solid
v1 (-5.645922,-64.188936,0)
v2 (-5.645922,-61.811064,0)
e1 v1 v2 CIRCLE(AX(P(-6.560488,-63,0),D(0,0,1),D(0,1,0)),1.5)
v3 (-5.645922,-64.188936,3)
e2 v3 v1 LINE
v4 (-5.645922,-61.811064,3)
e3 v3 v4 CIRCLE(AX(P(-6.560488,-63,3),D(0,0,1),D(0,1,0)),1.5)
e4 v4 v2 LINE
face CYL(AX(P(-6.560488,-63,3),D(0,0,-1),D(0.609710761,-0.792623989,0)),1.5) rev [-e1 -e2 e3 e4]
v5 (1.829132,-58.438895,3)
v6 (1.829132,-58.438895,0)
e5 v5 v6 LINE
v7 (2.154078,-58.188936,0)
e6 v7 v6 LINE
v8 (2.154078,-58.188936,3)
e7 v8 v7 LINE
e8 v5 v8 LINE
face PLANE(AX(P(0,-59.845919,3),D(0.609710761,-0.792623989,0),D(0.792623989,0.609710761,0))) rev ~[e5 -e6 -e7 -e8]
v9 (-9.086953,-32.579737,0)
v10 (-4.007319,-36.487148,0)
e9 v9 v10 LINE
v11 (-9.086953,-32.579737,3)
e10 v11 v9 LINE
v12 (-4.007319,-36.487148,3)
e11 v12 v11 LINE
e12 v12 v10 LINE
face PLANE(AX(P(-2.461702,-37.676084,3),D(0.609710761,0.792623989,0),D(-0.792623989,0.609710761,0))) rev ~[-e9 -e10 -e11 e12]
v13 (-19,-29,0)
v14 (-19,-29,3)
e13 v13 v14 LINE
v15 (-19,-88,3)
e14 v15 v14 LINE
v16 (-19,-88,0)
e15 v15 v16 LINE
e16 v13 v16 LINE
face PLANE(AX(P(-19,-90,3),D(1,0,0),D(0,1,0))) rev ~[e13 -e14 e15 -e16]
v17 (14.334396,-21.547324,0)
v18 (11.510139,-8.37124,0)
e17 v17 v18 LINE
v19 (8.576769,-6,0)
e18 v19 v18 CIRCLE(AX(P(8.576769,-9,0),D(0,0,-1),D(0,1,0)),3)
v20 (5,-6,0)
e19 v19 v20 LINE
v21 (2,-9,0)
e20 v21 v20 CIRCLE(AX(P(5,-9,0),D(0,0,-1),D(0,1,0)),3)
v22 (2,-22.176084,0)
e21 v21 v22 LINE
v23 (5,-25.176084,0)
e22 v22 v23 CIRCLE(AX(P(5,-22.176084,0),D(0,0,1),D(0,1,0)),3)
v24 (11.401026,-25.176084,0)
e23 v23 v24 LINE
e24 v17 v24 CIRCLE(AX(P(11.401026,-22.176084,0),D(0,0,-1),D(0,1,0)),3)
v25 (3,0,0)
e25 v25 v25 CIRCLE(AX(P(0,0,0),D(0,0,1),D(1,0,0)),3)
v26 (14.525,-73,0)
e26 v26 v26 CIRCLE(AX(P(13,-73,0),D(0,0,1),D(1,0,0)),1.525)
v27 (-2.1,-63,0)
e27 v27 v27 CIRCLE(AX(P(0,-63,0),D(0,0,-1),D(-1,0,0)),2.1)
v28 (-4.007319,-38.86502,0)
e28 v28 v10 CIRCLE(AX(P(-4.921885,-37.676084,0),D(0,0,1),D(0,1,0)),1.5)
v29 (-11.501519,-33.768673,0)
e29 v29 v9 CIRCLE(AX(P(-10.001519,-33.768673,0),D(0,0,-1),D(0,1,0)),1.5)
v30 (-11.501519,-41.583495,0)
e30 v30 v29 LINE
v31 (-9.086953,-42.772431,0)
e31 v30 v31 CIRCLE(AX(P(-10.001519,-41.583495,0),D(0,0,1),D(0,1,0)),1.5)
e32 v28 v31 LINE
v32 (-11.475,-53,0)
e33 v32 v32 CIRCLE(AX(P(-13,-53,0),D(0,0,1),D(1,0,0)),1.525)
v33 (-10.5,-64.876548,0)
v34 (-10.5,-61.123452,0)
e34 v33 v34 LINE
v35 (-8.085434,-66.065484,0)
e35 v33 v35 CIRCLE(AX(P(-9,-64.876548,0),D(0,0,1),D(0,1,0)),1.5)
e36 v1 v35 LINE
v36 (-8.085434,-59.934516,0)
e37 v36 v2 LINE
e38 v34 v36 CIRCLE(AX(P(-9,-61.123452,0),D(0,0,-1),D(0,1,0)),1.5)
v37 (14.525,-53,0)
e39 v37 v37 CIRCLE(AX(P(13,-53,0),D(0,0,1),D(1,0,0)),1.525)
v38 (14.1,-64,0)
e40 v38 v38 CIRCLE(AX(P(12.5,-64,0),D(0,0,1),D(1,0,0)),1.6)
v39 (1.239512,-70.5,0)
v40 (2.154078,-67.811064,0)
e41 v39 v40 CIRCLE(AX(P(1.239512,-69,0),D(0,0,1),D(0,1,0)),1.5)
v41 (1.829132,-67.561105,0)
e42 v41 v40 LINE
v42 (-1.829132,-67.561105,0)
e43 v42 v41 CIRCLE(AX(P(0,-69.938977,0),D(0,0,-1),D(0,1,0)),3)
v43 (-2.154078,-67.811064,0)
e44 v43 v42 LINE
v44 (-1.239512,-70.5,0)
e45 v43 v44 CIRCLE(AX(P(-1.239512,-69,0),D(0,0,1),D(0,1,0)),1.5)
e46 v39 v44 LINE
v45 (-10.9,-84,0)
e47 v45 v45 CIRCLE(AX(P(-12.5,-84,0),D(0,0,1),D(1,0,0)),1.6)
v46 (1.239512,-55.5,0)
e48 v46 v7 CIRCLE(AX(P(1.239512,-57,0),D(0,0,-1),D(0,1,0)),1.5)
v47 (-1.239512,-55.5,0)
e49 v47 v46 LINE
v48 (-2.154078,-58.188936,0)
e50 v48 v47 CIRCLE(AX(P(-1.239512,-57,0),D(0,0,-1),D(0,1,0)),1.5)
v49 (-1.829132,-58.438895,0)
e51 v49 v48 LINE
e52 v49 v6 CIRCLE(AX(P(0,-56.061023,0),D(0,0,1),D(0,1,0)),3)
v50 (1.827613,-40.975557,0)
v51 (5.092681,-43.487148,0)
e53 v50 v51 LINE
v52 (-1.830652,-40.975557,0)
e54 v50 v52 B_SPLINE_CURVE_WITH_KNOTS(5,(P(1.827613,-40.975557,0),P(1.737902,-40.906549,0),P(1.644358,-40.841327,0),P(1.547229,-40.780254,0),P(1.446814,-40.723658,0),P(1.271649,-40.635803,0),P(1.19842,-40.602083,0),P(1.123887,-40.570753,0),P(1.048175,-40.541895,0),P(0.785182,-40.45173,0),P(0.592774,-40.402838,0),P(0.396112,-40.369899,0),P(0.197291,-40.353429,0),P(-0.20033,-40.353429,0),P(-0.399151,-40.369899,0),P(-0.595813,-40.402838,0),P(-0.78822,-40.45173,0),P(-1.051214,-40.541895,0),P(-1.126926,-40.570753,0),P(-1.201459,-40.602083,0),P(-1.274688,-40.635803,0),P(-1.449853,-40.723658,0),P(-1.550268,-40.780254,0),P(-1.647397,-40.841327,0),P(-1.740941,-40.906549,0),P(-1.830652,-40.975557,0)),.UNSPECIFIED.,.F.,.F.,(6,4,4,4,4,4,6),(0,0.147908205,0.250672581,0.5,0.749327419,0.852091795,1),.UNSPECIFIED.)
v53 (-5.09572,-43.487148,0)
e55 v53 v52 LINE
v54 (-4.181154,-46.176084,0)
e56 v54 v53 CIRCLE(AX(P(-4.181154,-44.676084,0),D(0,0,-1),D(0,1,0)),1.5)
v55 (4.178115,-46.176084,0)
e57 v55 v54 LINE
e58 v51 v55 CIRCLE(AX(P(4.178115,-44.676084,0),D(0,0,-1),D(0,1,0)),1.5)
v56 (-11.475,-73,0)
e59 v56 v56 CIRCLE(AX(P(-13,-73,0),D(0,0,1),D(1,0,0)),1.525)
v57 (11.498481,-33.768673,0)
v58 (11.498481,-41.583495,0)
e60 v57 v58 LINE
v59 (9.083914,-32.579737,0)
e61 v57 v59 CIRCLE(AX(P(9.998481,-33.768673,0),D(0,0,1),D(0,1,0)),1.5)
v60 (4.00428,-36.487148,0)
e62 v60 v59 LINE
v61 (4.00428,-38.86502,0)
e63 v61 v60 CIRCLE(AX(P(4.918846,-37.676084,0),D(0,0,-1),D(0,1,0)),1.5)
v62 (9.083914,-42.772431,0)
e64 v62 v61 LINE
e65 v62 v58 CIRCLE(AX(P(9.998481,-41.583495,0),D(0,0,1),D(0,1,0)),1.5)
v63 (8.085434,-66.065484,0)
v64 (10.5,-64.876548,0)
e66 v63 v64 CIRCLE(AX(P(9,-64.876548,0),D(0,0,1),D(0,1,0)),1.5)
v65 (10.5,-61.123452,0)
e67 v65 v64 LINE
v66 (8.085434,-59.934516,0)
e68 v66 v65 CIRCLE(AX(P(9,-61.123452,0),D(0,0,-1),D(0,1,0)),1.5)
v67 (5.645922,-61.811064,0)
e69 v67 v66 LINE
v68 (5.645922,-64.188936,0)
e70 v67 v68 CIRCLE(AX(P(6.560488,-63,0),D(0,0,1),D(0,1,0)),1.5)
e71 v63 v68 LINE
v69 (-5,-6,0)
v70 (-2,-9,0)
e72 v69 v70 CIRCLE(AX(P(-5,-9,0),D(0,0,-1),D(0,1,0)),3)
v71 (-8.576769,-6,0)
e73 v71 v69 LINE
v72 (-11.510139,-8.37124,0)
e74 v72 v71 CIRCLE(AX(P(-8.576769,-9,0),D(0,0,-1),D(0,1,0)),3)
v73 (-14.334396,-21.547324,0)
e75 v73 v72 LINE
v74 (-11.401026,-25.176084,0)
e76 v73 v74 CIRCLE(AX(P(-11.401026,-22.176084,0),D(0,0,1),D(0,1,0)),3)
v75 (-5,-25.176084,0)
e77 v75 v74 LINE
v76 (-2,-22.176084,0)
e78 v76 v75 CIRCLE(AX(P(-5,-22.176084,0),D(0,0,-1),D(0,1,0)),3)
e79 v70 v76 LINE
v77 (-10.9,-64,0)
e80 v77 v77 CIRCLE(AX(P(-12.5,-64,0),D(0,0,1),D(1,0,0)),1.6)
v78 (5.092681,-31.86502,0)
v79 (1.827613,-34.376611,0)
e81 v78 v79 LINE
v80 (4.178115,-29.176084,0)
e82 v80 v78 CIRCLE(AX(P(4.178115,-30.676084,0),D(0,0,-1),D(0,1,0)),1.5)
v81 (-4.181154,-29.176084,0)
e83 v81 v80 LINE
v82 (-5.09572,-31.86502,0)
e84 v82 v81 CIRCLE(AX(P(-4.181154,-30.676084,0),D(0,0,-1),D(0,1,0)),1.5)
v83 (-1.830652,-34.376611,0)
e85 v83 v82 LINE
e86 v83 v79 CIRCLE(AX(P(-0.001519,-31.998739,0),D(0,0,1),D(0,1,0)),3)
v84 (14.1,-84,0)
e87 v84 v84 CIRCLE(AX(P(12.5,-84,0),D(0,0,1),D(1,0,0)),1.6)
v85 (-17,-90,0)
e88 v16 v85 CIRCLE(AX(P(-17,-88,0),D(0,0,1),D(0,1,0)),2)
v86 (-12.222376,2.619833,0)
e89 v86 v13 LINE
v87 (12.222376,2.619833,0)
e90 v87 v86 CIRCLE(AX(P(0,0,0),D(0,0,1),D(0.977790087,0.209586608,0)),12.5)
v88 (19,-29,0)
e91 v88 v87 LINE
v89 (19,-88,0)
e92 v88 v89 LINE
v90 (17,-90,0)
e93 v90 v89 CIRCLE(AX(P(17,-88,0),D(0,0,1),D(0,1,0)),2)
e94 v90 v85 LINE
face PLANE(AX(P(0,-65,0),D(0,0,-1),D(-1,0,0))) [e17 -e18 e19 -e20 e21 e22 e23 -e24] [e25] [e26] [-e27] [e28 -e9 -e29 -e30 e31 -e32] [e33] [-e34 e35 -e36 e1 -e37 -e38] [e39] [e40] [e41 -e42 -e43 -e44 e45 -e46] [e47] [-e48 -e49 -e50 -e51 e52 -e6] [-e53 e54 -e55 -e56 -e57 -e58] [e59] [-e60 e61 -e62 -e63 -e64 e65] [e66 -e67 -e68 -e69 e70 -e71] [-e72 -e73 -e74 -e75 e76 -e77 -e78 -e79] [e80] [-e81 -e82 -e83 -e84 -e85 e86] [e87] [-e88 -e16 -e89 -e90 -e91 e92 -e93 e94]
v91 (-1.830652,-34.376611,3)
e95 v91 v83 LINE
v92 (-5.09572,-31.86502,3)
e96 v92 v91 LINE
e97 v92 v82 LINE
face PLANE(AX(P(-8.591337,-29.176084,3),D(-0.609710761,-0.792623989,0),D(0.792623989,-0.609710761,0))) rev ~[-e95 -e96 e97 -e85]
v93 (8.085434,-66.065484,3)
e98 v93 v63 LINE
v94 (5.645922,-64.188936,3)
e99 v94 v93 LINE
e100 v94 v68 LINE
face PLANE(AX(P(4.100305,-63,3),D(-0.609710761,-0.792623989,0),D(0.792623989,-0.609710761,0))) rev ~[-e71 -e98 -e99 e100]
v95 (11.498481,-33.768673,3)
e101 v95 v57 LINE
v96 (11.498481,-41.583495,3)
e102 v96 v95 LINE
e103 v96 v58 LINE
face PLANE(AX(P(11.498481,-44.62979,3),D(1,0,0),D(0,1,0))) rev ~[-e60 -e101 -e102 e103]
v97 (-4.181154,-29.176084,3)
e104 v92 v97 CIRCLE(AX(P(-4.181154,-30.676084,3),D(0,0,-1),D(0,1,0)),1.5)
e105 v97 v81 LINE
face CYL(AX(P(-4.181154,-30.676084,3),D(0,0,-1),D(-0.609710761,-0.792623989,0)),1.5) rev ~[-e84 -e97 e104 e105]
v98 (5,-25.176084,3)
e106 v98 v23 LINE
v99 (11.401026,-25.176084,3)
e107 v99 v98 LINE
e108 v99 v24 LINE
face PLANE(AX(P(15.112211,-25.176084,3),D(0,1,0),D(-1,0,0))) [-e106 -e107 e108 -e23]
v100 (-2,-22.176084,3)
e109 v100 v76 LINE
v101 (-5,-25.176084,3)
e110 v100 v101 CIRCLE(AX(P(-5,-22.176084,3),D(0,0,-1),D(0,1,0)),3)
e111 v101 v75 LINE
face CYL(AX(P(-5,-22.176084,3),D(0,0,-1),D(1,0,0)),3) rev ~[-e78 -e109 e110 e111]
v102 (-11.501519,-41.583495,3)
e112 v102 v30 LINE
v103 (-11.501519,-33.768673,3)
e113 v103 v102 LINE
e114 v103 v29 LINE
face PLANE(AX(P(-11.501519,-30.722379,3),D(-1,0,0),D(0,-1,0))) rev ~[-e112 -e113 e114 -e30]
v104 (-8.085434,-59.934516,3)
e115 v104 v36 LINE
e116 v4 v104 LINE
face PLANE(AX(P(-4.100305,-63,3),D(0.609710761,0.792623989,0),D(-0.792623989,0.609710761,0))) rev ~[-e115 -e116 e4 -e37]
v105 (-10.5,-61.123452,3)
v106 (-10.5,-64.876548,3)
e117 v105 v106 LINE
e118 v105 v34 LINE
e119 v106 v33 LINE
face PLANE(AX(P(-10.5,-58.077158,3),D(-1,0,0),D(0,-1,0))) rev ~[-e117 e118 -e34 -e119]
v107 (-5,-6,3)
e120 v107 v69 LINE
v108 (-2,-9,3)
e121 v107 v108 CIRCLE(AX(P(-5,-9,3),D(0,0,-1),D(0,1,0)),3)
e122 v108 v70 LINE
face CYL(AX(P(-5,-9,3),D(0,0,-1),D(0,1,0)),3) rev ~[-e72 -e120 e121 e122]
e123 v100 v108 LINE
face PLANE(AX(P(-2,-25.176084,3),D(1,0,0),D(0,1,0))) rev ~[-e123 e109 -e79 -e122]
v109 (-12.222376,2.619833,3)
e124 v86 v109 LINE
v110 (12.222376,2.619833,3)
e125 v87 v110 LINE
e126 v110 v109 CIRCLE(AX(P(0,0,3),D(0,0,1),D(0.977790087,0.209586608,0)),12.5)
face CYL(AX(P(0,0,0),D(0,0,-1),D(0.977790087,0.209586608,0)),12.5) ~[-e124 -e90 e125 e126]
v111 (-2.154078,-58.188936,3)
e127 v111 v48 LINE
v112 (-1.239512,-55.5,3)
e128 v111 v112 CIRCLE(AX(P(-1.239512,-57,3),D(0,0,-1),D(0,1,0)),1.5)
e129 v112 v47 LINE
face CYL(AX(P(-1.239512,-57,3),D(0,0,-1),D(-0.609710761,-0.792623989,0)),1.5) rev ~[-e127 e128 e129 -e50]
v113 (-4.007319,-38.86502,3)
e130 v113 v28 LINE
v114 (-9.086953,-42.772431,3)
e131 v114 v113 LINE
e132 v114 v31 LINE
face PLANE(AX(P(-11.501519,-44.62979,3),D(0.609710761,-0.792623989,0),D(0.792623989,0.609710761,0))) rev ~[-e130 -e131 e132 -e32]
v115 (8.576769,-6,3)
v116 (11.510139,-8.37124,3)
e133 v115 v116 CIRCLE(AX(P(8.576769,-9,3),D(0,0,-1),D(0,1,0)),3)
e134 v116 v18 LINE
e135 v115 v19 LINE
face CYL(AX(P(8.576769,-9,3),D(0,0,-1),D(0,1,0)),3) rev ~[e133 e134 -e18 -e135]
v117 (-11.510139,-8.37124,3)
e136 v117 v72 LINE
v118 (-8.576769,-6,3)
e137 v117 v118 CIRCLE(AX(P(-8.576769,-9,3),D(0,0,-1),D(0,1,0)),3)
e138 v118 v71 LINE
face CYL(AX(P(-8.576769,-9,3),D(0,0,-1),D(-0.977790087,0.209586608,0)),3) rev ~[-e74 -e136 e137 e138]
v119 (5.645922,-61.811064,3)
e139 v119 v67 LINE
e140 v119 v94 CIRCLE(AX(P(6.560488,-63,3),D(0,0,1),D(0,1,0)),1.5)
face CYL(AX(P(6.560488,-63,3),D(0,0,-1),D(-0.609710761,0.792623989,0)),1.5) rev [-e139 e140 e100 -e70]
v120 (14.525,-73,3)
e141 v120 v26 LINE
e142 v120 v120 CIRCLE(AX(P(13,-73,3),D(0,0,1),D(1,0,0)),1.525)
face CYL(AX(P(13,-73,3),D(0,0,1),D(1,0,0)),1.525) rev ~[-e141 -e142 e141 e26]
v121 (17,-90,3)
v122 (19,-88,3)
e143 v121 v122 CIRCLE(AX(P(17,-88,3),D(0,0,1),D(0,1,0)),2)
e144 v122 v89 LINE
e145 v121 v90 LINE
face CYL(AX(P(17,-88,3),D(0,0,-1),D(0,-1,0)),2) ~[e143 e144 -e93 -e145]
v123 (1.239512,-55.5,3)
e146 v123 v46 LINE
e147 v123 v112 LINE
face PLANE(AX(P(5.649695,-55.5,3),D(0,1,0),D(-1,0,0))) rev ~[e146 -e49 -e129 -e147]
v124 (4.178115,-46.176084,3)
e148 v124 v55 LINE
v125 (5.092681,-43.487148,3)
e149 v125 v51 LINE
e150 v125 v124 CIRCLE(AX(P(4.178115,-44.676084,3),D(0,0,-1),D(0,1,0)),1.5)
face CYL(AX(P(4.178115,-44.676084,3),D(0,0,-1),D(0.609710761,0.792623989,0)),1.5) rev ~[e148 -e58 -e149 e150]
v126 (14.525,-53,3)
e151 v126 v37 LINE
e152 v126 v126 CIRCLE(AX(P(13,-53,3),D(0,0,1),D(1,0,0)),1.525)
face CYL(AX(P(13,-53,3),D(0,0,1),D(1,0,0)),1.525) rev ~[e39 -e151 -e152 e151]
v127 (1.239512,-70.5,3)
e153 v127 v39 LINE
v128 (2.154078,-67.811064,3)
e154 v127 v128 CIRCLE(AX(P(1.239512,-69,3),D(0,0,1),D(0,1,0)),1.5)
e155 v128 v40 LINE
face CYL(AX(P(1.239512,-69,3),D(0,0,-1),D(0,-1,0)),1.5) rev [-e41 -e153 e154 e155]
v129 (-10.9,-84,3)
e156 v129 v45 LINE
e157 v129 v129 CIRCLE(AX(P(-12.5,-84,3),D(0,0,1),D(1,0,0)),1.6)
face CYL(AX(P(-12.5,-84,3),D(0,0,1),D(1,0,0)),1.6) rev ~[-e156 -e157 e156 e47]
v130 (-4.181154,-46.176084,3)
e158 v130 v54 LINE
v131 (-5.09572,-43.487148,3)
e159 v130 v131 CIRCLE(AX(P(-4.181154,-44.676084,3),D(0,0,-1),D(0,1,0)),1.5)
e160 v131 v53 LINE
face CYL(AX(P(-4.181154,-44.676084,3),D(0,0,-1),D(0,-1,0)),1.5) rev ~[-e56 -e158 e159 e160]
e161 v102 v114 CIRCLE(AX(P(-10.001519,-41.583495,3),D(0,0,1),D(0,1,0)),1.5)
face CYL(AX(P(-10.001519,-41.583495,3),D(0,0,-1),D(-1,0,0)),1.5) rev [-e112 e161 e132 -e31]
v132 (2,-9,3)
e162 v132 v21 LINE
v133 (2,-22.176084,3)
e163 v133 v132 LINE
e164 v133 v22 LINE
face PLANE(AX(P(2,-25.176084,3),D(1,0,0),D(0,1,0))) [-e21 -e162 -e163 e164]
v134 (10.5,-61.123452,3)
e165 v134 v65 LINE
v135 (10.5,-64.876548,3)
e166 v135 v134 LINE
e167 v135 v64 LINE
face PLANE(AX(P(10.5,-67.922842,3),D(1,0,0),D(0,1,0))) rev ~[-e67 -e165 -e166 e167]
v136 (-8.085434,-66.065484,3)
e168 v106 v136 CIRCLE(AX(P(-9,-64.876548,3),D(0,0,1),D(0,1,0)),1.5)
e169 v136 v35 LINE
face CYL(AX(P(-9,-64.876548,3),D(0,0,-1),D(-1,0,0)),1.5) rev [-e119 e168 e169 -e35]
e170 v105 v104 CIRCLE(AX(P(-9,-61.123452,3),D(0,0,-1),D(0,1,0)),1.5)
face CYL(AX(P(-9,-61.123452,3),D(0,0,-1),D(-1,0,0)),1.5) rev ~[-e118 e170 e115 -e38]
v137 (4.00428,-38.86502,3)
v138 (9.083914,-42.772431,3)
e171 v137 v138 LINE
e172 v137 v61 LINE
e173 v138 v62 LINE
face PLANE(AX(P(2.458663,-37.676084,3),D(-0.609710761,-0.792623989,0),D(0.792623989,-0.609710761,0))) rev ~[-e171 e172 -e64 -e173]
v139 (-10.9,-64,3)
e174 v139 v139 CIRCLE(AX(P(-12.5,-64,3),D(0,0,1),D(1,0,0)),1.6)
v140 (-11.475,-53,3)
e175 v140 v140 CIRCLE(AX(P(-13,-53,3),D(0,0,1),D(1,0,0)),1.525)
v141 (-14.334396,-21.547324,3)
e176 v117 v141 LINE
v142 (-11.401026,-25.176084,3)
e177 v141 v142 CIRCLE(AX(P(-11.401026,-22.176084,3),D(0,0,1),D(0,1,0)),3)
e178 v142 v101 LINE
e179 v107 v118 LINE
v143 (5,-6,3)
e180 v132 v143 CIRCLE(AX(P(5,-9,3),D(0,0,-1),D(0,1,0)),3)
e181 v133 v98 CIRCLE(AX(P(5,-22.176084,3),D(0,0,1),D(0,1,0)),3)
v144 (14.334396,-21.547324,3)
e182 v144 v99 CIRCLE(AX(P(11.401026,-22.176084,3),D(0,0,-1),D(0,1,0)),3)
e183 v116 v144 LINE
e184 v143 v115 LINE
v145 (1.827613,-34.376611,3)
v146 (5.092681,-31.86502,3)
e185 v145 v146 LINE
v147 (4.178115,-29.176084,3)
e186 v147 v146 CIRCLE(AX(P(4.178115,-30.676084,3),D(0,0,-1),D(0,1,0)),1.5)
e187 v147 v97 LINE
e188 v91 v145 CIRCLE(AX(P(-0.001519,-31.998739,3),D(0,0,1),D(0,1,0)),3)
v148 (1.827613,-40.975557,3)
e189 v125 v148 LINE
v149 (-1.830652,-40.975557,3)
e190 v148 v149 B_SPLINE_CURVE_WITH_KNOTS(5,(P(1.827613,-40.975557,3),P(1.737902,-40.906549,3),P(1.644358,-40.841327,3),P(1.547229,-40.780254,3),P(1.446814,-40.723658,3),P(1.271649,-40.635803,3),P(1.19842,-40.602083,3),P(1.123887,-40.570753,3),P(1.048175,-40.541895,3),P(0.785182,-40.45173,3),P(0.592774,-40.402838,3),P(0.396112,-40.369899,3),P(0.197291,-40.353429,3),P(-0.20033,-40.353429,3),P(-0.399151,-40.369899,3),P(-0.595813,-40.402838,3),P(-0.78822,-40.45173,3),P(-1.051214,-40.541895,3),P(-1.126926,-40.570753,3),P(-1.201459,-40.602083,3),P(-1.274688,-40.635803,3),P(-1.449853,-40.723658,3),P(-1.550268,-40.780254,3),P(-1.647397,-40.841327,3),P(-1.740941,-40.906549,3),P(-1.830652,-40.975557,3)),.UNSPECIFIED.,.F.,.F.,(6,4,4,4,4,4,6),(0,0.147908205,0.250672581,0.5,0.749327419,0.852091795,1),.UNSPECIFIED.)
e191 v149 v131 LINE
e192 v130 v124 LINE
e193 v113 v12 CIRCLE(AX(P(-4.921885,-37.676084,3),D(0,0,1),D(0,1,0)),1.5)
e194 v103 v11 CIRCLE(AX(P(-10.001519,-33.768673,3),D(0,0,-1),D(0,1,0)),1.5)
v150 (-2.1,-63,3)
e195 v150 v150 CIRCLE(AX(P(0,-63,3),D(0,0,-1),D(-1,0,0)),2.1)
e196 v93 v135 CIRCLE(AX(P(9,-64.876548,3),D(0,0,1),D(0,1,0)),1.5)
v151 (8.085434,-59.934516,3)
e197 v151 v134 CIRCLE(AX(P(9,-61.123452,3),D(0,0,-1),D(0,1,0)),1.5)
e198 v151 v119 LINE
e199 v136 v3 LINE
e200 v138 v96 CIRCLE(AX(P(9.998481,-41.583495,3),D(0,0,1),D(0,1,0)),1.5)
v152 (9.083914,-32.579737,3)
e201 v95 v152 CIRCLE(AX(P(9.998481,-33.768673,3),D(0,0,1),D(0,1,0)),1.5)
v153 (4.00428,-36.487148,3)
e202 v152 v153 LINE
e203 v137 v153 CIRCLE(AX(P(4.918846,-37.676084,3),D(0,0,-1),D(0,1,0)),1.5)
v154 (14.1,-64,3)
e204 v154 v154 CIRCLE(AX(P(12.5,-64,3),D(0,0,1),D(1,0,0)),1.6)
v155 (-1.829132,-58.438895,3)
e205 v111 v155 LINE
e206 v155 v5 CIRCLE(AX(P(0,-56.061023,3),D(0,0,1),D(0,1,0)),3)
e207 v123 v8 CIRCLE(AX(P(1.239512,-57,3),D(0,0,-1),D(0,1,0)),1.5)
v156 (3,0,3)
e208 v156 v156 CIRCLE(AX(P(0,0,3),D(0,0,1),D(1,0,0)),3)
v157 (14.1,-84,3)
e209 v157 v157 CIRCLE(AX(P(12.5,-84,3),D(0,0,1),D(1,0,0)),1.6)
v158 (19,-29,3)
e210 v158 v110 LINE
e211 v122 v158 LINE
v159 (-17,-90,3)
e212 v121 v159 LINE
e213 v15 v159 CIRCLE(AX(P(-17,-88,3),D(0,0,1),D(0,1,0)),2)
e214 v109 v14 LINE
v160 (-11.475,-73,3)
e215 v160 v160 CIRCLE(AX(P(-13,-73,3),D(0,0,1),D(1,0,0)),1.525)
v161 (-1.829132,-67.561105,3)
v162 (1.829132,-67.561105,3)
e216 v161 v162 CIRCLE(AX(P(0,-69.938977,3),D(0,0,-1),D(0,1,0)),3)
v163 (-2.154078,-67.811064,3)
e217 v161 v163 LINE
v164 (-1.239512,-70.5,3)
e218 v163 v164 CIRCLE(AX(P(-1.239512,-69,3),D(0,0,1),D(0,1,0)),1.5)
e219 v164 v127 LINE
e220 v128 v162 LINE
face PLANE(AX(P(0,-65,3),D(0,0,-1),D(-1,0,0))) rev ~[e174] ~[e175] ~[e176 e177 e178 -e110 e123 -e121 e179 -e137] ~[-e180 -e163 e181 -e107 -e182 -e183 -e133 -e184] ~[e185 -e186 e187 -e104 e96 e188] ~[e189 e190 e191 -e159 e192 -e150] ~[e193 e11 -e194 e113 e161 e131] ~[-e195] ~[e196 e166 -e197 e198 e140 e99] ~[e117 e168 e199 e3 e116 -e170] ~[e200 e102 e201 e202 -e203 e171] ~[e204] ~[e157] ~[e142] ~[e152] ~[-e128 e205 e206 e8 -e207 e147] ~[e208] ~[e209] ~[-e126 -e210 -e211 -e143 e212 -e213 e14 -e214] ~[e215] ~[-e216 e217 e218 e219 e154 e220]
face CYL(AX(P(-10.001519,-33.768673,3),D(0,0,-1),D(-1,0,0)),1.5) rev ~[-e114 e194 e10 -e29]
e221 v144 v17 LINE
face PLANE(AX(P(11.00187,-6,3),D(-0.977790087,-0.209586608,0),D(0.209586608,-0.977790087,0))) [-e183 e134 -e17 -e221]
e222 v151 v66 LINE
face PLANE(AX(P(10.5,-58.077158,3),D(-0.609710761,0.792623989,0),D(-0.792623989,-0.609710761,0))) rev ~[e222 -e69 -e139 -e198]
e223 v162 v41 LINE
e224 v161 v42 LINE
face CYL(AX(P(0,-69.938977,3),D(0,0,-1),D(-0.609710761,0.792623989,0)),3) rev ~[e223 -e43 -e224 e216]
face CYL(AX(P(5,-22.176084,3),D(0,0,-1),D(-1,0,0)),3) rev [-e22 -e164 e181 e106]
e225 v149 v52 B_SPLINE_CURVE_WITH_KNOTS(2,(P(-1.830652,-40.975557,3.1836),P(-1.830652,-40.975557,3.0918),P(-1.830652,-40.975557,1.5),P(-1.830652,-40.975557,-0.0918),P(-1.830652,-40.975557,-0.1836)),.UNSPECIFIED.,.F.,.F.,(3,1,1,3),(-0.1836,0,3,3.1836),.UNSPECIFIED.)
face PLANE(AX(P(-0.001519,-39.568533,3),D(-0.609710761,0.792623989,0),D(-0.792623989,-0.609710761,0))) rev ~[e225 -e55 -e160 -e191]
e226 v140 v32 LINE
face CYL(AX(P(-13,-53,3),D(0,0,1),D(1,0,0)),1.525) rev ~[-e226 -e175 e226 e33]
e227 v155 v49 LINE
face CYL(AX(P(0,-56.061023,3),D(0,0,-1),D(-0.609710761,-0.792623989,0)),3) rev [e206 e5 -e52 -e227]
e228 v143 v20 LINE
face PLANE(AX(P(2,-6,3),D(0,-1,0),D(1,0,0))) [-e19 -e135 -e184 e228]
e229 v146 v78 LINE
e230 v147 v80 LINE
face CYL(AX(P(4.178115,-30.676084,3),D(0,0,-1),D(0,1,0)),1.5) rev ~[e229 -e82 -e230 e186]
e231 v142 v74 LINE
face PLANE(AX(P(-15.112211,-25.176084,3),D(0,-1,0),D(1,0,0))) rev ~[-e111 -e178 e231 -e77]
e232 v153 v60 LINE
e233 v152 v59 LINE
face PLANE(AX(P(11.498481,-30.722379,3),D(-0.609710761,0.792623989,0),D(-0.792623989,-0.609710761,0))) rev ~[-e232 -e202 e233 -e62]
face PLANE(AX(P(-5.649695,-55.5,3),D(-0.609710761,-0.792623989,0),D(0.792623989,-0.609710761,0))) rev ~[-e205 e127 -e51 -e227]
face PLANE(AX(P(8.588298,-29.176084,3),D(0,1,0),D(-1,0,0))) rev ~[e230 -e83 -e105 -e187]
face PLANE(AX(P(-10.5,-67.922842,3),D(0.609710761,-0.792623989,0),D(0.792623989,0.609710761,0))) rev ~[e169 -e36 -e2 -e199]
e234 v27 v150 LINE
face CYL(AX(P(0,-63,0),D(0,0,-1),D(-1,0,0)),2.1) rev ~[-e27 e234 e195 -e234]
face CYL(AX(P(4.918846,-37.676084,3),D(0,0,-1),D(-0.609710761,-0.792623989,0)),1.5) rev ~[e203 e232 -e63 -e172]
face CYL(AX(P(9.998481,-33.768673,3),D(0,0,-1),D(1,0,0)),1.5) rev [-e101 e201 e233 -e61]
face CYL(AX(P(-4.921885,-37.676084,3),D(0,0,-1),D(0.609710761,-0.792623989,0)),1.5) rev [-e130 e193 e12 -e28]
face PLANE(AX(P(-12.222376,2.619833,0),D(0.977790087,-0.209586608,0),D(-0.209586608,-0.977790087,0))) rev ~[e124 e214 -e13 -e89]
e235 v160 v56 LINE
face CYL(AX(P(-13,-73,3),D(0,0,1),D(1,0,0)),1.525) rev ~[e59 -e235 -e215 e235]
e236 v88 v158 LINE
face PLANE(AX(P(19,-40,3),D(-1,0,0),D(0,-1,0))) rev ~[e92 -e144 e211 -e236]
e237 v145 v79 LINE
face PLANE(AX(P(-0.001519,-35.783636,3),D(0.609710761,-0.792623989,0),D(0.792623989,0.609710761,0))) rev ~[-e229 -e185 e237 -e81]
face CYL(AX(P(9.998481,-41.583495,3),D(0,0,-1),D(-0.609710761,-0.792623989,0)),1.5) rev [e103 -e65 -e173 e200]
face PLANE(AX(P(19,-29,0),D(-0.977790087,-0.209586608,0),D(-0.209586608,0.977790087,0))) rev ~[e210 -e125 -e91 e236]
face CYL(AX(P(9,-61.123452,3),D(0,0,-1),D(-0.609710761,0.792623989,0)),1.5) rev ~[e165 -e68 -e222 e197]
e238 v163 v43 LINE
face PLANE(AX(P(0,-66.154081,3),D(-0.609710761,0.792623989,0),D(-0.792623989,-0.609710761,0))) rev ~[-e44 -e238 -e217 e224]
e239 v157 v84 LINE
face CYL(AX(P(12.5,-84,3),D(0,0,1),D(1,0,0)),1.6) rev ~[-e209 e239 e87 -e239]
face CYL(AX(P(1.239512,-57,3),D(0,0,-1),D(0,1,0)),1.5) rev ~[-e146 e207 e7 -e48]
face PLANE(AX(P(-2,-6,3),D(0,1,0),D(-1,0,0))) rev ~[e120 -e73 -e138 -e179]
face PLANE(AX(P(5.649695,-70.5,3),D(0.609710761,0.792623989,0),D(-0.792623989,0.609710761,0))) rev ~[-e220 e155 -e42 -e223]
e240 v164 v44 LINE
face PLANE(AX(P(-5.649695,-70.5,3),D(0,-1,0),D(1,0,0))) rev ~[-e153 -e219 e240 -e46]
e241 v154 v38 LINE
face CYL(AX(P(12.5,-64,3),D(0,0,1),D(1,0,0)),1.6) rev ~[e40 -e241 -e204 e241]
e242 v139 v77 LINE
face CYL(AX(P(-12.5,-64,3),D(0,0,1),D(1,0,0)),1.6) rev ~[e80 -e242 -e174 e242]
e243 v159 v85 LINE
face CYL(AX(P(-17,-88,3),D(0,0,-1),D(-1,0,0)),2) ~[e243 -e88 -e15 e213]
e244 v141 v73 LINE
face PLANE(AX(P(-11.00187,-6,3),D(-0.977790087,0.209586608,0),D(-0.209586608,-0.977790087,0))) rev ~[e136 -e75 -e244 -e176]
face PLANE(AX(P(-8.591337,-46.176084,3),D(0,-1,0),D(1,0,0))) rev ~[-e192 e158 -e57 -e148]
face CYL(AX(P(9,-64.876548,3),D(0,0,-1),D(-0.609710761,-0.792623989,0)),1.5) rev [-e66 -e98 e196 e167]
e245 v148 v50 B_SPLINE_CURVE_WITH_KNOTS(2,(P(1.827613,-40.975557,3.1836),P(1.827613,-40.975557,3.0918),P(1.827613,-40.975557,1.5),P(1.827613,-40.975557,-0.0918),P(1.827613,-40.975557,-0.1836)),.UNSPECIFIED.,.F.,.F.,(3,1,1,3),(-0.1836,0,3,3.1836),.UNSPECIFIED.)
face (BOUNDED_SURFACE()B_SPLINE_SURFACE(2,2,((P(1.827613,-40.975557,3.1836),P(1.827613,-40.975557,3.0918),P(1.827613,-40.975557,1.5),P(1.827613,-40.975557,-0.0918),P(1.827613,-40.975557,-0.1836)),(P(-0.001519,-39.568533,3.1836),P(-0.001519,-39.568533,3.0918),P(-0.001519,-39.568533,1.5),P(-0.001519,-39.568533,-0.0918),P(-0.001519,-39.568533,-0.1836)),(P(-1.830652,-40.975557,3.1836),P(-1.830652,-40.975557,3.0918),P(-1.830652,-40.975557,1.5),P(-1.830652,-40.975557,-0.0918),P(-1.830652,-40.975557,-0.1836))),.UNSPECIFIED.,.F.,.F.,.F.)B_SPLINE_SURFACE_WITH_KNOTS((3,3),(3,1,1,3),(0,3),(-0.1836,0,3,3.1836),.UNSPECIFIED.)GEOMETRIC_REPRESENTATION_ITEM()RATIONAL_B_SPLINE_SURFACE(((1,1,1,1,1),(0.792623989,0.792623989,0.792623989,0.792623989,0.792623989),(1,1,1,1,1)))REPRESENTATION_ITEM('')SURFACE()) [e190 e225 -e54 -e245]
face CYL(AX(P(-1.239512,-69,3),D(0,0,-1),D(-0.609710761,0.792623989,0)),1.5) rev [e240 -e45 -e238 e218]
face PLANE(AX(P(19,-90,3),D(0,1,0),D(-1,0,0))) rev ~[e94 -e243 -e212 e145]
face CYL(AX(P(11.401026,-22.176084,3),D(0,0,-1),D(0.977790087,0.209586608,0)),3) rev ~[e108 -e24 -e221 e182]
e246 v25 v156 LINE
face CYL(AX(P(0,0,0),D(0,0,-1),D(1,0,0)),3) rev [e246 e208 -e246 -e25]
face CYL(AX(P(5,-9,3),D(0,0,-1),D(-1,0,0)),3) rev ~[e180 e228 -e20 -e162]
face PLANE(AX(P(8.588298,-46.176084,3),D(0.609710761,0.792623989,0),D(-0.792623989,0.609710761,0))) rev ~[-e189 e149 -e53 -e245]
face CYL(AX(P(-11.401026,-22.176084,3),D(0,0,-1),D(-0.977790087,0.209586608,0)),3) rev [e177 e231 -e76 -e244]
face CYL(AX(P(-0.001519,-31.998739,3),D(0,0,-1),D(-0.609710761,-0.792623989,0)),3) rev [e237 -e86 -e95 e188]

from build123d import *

# Parameters (mm, degrees)
SKETCH_1_R           = 3
EXTRUDE_1_DEPTH      = 3
SKETCH_2_R           = 1.600000000000003
EXTRUDE_2_DEPTH      = 3
SKETCH_13_R          = 1.5250000000000004
CUT_EXTRUDE_8_DEPTH  = 10
CUT_EXTRUDE_9_DEPTH  = 10
CUT_EXTRUDE_10_DEPTH = 10
FILLET_7_R           = 3
FILLET_8_R           = 1.5
SKETCH_18_R          = 2.0999999999999996
CUT_EXTRUDE_11_DEPTH = 3
FILLET_2_R           = 2
SKETCH_12_R          = 1.600000000000003
CUT_EXTRUDE_7_DEPTH  = 10


with BuildPart() as part:
    # 草图1 → 凸台-拉伸1 (new body)
    with BuildSketch(Plane.XY):
        with BuildLine():
            Line((-18.999999999999996, -40), (19.000000000000004, -39.99999999999999))
            Line((19.000000000000004, -39.99999999999999), (19.000000000000004, -28.999999999999993))
            Line((19.000000000000004, -28.999999999999993), (12.222376083061231, 2.619832606143564))
            ThreePointArc((12.222376083061231, 2.619832606143564), (-2.01e-15, 12.500000000000007), (-12.222376083061231, 2.619832606143561))
            Line((-12.222376083061231, 2.619832606143561), (-18.999999999999996, -28.999999999999996))
            Line((-18.999999999999996, -28.999999999999996), (-18.999999999999996, -40))
        make_face()
        Circle(SKETCH_1_R, mode=Mode.SUBTRACT)
    extrude(amount=EXTRUDE_1_DEPTH)

    # 草图2 → 凸台-拉伸2 (add)
    with BuildSketch(Plane.XY.offset(3)):
        Polygon((-18.999999999999996, -40), (19.000000000000004, -39.99999999999999), (19.00000000000001, -90), (-18.99999999999999, -90), align=None)
        with Locations((-12.499999999999991, -83.99999999999999)):
            Circle(SKETCH_2_R, mode=Mode.SUBTRACT)
        with Locations((12.50000000000001, -83.99999999999999)):
            Circle(SKETCH_2_R, mode=Mode.SUBTRACT)
    extrude(amount=-EXTRUDE_2_DEPTH)

    # 草图13 → 切除-拉伸8 (cut)
    with BuildSketch(Plane.XY.offset(3)):
        with Locations((-12.999999999999984, -52.99999999999999)):
            Circle(SKETCH_13_R)
        with Locations((-12.999999999999982, -73)):
            Circle(SKETCH_13_R)
        with Locations((13.000000000000014, -52.99999999999999)):
            Circle(SKETCH_13_R)
        with Locations((13.000000000000016, -73)):
            Circle(SKETCH_13_R)
    extrude(amount=-CUT_EXTRUDE_8_DEPTH, mode=Mode.SUBTRACT)

    # 草图14 → 切除-拉伸9 (cut)
    with BuildSketch(Plane.XY.offset(3)):
        Polygon((-5.649695133285826, -55.49999999999999), (1.066e-14, -59.84591933329679), (1.375e-14, -55.49999999999999), align=None)
        Polygon((1.375e-14, -55.49999999999999), (1.483e-14, -59.845919333296784), (5.649695133285826, -55.49999999999999), align=None)
        Polygon((-10.499999999999963, -58.07715758978017), (-10.499999999999963, -67.92284241021984), (-4.100304866714181, -63.00000000000001), align=None)
        Polygon((-3.55e-15, -66.15408066670322), (-5.649695133285805, -70.5), (5.64969513328581, -70.5), align=None)
        Polygon((10.500000000000018, -58.077157589780114), (4.100304866714181, -63), (10.500000000000021, -67.92284241021987), align=None)
        Polygon((9.81e-15, -39.569701478766), (1.144e-14, -46.176084263737856), (8.588297620463438, -46.176084263737856), align=None)
        Polygon((-8.591336539479556, -46.176084263737856), (1.066e-14, -46.176084263737856), (9.81e-15, -39.569701478766), (-0.00151945950806542, -39.56853266375978), align=None)
        Polygon((-11.501519459508062, -30.722378817605943), (-11.501519459508062, -44.62978970986978), (-2.4617023795365665, -37.676084263737856), align=None)
        Polygon((-8.591336539479554, -29.176084263737856), (-0.00151945950806187, -35.78363586371593), (8.88e-15, -35.78246704870972), (7.23e-15, -29.176084263737856), align=None)
        Polygon((7.23e-15, -29.176084263737856), (8.87e-15, -35.78246704870972), (8.588297620463424, -29.176084263737856), align=None)
        Polygon((2.45866346052045, -37.67608426373786), (11.498480540491945, -44.62978970986978), (11.498480540491938, -30.72237881760594), align=None)
    extrude(amount=-CUT_EXTRUDE_9_DEPTH, mode=Mode.SUBTRACT)

    # 草图16 → 切除-拉伸10 (cut)
    with BuildSketch(Plane.XY.offset(3)):
        Polygon((-11.001870235626251, -6.000000000000001), (-15.112211013138483, -25.176084263737856), (-1.9999999999999978, -25.176084263737852), (-2, -6), align=None)
        Polygon((15.112211013138486, -25.17608426373785), (2.000000000000002, -25.176084263737856), (2, -5.999999999999999), (11.001870235626251, -5.999999999999998), align=None)
    extrude(amount=-CUT_EXTRUDE_10_DEPTH, mode=Mode.SUBTRACT)

    # 圆角7
    fillet_7_edges = [part.edges().sort_by_distance(p)[0] for p in [
        (-2.66e-15, -66.15408066670322, 1.5),
        (-0.00151945950806276, -35.78363586371593, 1.5),
        (1.274e-14, -59.84591933329679, 1.5),
        (-15.112211013138483, -25.176084263737856, 1.5),
        (-11.001870235626251, -6.000000000000001, 1.5),
        (-2, -6, 1.5),
        (-1.9999999999999978, -25.176084263737852, 1.5),
        (15.112211013138486, -25.17608426373785, 1.5),
        (2.000000000000002, -25.176084263737856, 1.5),
        (2, -5.999999999999999, 1.5),
        (11.001870235626251, -5.999999999999998, 1.5),
        (-0.00151945950806276, -39.56853266375978, 1.5),
    ]]
    fillet(fillet_7_edges, radius=FILLET_7_R)

    # 圆角8
    fillet_8_edges = [part.edges().sort_by_distance(p)[0] for p in [
        (4.1003048667141835, -63, 1.5),
        (10.500000000000016, -58.077157589780114, 1.5),
        (10.500000000000018, -67.92284241021987, 1.5),
        (-10.499999999999963, -67.92284241021984, 1.5),
        (-10.499999999999963, -58.07715758978017, 1.5),
        (-4.10030486671418, -63.00000000000001, 1.5),
        (-5.649695133285805, -70.5, 1.5),
        (5.64969513328581, -70.5, 1.5),
        (2.4586634605204445, -37.67608426373786, 1.5),
        (11.498480540491936, -30.722378817605943, 1.5),
        (11.498480540491942, -44.62978970986978, 1.5),
        (-11.501519459508062, -44.62978970986978, 1.5),
        (-11.501519459508062, -30.722378817605943, 1.5),
        (-2.4617023795365665, -37.676084263737856, 1.5),
        (8.588297620463425, -29.176084263737856, 1.5),
        (-8.591336539479554, -29.176084263737856, 1.5),
        (-5.649695133285826, -55.49999999999999, 1.5),
        (5.649695133285826, -55.49999999999999, 1.5),
        (8.588297620463436, -46.17608426373785, 1.5),
        (-8.591336539479556, -46.176084263737856, 1.5),
    ]]
    fillet(fillet_8_edges, radius=FILLET_8_R)

    # 草图18 → 切除-拉伸11 (cut)
    with BuildSketch(Plane(origin=(0, 0, 0), x_dir=(-1, 0, 0), z_dir=(0, 0, -1))):
        with Locations((-1.561e-14, -63)):
            Circle(SKETCH_18_R)
    extrude(amount=-CUT_EXTRUDE_11_DEPTH, mode=Mode.SUBTRACT)

    # 圆角2
    fillet_2_edges = [part.edges().sort_by_distance(p)[0] for p in [
        (-18.99999999999999, -90, 1.5),
        (19.00000000000001, -90, 1.5),
    ]]
    fillet(fillet_2_edges, radius=FILLET_2_R)

    # 草图12 → 切除-拉伸7 (cut)
    with BuildSketch(Plane.XY.offset(3)):
        with Locations((-12.499999999999991, -63.999999999999986)):
            Circle(SKETCH_12_R)
        with Locations((12.50000000000001, -63.999999999999986)):
            Circle(SKETCH_12_R)
    extrude(amount=-CUT_EXTRUDE_7_DEPTH, mode=Mode.SUBTRACT)


solid = part.part
